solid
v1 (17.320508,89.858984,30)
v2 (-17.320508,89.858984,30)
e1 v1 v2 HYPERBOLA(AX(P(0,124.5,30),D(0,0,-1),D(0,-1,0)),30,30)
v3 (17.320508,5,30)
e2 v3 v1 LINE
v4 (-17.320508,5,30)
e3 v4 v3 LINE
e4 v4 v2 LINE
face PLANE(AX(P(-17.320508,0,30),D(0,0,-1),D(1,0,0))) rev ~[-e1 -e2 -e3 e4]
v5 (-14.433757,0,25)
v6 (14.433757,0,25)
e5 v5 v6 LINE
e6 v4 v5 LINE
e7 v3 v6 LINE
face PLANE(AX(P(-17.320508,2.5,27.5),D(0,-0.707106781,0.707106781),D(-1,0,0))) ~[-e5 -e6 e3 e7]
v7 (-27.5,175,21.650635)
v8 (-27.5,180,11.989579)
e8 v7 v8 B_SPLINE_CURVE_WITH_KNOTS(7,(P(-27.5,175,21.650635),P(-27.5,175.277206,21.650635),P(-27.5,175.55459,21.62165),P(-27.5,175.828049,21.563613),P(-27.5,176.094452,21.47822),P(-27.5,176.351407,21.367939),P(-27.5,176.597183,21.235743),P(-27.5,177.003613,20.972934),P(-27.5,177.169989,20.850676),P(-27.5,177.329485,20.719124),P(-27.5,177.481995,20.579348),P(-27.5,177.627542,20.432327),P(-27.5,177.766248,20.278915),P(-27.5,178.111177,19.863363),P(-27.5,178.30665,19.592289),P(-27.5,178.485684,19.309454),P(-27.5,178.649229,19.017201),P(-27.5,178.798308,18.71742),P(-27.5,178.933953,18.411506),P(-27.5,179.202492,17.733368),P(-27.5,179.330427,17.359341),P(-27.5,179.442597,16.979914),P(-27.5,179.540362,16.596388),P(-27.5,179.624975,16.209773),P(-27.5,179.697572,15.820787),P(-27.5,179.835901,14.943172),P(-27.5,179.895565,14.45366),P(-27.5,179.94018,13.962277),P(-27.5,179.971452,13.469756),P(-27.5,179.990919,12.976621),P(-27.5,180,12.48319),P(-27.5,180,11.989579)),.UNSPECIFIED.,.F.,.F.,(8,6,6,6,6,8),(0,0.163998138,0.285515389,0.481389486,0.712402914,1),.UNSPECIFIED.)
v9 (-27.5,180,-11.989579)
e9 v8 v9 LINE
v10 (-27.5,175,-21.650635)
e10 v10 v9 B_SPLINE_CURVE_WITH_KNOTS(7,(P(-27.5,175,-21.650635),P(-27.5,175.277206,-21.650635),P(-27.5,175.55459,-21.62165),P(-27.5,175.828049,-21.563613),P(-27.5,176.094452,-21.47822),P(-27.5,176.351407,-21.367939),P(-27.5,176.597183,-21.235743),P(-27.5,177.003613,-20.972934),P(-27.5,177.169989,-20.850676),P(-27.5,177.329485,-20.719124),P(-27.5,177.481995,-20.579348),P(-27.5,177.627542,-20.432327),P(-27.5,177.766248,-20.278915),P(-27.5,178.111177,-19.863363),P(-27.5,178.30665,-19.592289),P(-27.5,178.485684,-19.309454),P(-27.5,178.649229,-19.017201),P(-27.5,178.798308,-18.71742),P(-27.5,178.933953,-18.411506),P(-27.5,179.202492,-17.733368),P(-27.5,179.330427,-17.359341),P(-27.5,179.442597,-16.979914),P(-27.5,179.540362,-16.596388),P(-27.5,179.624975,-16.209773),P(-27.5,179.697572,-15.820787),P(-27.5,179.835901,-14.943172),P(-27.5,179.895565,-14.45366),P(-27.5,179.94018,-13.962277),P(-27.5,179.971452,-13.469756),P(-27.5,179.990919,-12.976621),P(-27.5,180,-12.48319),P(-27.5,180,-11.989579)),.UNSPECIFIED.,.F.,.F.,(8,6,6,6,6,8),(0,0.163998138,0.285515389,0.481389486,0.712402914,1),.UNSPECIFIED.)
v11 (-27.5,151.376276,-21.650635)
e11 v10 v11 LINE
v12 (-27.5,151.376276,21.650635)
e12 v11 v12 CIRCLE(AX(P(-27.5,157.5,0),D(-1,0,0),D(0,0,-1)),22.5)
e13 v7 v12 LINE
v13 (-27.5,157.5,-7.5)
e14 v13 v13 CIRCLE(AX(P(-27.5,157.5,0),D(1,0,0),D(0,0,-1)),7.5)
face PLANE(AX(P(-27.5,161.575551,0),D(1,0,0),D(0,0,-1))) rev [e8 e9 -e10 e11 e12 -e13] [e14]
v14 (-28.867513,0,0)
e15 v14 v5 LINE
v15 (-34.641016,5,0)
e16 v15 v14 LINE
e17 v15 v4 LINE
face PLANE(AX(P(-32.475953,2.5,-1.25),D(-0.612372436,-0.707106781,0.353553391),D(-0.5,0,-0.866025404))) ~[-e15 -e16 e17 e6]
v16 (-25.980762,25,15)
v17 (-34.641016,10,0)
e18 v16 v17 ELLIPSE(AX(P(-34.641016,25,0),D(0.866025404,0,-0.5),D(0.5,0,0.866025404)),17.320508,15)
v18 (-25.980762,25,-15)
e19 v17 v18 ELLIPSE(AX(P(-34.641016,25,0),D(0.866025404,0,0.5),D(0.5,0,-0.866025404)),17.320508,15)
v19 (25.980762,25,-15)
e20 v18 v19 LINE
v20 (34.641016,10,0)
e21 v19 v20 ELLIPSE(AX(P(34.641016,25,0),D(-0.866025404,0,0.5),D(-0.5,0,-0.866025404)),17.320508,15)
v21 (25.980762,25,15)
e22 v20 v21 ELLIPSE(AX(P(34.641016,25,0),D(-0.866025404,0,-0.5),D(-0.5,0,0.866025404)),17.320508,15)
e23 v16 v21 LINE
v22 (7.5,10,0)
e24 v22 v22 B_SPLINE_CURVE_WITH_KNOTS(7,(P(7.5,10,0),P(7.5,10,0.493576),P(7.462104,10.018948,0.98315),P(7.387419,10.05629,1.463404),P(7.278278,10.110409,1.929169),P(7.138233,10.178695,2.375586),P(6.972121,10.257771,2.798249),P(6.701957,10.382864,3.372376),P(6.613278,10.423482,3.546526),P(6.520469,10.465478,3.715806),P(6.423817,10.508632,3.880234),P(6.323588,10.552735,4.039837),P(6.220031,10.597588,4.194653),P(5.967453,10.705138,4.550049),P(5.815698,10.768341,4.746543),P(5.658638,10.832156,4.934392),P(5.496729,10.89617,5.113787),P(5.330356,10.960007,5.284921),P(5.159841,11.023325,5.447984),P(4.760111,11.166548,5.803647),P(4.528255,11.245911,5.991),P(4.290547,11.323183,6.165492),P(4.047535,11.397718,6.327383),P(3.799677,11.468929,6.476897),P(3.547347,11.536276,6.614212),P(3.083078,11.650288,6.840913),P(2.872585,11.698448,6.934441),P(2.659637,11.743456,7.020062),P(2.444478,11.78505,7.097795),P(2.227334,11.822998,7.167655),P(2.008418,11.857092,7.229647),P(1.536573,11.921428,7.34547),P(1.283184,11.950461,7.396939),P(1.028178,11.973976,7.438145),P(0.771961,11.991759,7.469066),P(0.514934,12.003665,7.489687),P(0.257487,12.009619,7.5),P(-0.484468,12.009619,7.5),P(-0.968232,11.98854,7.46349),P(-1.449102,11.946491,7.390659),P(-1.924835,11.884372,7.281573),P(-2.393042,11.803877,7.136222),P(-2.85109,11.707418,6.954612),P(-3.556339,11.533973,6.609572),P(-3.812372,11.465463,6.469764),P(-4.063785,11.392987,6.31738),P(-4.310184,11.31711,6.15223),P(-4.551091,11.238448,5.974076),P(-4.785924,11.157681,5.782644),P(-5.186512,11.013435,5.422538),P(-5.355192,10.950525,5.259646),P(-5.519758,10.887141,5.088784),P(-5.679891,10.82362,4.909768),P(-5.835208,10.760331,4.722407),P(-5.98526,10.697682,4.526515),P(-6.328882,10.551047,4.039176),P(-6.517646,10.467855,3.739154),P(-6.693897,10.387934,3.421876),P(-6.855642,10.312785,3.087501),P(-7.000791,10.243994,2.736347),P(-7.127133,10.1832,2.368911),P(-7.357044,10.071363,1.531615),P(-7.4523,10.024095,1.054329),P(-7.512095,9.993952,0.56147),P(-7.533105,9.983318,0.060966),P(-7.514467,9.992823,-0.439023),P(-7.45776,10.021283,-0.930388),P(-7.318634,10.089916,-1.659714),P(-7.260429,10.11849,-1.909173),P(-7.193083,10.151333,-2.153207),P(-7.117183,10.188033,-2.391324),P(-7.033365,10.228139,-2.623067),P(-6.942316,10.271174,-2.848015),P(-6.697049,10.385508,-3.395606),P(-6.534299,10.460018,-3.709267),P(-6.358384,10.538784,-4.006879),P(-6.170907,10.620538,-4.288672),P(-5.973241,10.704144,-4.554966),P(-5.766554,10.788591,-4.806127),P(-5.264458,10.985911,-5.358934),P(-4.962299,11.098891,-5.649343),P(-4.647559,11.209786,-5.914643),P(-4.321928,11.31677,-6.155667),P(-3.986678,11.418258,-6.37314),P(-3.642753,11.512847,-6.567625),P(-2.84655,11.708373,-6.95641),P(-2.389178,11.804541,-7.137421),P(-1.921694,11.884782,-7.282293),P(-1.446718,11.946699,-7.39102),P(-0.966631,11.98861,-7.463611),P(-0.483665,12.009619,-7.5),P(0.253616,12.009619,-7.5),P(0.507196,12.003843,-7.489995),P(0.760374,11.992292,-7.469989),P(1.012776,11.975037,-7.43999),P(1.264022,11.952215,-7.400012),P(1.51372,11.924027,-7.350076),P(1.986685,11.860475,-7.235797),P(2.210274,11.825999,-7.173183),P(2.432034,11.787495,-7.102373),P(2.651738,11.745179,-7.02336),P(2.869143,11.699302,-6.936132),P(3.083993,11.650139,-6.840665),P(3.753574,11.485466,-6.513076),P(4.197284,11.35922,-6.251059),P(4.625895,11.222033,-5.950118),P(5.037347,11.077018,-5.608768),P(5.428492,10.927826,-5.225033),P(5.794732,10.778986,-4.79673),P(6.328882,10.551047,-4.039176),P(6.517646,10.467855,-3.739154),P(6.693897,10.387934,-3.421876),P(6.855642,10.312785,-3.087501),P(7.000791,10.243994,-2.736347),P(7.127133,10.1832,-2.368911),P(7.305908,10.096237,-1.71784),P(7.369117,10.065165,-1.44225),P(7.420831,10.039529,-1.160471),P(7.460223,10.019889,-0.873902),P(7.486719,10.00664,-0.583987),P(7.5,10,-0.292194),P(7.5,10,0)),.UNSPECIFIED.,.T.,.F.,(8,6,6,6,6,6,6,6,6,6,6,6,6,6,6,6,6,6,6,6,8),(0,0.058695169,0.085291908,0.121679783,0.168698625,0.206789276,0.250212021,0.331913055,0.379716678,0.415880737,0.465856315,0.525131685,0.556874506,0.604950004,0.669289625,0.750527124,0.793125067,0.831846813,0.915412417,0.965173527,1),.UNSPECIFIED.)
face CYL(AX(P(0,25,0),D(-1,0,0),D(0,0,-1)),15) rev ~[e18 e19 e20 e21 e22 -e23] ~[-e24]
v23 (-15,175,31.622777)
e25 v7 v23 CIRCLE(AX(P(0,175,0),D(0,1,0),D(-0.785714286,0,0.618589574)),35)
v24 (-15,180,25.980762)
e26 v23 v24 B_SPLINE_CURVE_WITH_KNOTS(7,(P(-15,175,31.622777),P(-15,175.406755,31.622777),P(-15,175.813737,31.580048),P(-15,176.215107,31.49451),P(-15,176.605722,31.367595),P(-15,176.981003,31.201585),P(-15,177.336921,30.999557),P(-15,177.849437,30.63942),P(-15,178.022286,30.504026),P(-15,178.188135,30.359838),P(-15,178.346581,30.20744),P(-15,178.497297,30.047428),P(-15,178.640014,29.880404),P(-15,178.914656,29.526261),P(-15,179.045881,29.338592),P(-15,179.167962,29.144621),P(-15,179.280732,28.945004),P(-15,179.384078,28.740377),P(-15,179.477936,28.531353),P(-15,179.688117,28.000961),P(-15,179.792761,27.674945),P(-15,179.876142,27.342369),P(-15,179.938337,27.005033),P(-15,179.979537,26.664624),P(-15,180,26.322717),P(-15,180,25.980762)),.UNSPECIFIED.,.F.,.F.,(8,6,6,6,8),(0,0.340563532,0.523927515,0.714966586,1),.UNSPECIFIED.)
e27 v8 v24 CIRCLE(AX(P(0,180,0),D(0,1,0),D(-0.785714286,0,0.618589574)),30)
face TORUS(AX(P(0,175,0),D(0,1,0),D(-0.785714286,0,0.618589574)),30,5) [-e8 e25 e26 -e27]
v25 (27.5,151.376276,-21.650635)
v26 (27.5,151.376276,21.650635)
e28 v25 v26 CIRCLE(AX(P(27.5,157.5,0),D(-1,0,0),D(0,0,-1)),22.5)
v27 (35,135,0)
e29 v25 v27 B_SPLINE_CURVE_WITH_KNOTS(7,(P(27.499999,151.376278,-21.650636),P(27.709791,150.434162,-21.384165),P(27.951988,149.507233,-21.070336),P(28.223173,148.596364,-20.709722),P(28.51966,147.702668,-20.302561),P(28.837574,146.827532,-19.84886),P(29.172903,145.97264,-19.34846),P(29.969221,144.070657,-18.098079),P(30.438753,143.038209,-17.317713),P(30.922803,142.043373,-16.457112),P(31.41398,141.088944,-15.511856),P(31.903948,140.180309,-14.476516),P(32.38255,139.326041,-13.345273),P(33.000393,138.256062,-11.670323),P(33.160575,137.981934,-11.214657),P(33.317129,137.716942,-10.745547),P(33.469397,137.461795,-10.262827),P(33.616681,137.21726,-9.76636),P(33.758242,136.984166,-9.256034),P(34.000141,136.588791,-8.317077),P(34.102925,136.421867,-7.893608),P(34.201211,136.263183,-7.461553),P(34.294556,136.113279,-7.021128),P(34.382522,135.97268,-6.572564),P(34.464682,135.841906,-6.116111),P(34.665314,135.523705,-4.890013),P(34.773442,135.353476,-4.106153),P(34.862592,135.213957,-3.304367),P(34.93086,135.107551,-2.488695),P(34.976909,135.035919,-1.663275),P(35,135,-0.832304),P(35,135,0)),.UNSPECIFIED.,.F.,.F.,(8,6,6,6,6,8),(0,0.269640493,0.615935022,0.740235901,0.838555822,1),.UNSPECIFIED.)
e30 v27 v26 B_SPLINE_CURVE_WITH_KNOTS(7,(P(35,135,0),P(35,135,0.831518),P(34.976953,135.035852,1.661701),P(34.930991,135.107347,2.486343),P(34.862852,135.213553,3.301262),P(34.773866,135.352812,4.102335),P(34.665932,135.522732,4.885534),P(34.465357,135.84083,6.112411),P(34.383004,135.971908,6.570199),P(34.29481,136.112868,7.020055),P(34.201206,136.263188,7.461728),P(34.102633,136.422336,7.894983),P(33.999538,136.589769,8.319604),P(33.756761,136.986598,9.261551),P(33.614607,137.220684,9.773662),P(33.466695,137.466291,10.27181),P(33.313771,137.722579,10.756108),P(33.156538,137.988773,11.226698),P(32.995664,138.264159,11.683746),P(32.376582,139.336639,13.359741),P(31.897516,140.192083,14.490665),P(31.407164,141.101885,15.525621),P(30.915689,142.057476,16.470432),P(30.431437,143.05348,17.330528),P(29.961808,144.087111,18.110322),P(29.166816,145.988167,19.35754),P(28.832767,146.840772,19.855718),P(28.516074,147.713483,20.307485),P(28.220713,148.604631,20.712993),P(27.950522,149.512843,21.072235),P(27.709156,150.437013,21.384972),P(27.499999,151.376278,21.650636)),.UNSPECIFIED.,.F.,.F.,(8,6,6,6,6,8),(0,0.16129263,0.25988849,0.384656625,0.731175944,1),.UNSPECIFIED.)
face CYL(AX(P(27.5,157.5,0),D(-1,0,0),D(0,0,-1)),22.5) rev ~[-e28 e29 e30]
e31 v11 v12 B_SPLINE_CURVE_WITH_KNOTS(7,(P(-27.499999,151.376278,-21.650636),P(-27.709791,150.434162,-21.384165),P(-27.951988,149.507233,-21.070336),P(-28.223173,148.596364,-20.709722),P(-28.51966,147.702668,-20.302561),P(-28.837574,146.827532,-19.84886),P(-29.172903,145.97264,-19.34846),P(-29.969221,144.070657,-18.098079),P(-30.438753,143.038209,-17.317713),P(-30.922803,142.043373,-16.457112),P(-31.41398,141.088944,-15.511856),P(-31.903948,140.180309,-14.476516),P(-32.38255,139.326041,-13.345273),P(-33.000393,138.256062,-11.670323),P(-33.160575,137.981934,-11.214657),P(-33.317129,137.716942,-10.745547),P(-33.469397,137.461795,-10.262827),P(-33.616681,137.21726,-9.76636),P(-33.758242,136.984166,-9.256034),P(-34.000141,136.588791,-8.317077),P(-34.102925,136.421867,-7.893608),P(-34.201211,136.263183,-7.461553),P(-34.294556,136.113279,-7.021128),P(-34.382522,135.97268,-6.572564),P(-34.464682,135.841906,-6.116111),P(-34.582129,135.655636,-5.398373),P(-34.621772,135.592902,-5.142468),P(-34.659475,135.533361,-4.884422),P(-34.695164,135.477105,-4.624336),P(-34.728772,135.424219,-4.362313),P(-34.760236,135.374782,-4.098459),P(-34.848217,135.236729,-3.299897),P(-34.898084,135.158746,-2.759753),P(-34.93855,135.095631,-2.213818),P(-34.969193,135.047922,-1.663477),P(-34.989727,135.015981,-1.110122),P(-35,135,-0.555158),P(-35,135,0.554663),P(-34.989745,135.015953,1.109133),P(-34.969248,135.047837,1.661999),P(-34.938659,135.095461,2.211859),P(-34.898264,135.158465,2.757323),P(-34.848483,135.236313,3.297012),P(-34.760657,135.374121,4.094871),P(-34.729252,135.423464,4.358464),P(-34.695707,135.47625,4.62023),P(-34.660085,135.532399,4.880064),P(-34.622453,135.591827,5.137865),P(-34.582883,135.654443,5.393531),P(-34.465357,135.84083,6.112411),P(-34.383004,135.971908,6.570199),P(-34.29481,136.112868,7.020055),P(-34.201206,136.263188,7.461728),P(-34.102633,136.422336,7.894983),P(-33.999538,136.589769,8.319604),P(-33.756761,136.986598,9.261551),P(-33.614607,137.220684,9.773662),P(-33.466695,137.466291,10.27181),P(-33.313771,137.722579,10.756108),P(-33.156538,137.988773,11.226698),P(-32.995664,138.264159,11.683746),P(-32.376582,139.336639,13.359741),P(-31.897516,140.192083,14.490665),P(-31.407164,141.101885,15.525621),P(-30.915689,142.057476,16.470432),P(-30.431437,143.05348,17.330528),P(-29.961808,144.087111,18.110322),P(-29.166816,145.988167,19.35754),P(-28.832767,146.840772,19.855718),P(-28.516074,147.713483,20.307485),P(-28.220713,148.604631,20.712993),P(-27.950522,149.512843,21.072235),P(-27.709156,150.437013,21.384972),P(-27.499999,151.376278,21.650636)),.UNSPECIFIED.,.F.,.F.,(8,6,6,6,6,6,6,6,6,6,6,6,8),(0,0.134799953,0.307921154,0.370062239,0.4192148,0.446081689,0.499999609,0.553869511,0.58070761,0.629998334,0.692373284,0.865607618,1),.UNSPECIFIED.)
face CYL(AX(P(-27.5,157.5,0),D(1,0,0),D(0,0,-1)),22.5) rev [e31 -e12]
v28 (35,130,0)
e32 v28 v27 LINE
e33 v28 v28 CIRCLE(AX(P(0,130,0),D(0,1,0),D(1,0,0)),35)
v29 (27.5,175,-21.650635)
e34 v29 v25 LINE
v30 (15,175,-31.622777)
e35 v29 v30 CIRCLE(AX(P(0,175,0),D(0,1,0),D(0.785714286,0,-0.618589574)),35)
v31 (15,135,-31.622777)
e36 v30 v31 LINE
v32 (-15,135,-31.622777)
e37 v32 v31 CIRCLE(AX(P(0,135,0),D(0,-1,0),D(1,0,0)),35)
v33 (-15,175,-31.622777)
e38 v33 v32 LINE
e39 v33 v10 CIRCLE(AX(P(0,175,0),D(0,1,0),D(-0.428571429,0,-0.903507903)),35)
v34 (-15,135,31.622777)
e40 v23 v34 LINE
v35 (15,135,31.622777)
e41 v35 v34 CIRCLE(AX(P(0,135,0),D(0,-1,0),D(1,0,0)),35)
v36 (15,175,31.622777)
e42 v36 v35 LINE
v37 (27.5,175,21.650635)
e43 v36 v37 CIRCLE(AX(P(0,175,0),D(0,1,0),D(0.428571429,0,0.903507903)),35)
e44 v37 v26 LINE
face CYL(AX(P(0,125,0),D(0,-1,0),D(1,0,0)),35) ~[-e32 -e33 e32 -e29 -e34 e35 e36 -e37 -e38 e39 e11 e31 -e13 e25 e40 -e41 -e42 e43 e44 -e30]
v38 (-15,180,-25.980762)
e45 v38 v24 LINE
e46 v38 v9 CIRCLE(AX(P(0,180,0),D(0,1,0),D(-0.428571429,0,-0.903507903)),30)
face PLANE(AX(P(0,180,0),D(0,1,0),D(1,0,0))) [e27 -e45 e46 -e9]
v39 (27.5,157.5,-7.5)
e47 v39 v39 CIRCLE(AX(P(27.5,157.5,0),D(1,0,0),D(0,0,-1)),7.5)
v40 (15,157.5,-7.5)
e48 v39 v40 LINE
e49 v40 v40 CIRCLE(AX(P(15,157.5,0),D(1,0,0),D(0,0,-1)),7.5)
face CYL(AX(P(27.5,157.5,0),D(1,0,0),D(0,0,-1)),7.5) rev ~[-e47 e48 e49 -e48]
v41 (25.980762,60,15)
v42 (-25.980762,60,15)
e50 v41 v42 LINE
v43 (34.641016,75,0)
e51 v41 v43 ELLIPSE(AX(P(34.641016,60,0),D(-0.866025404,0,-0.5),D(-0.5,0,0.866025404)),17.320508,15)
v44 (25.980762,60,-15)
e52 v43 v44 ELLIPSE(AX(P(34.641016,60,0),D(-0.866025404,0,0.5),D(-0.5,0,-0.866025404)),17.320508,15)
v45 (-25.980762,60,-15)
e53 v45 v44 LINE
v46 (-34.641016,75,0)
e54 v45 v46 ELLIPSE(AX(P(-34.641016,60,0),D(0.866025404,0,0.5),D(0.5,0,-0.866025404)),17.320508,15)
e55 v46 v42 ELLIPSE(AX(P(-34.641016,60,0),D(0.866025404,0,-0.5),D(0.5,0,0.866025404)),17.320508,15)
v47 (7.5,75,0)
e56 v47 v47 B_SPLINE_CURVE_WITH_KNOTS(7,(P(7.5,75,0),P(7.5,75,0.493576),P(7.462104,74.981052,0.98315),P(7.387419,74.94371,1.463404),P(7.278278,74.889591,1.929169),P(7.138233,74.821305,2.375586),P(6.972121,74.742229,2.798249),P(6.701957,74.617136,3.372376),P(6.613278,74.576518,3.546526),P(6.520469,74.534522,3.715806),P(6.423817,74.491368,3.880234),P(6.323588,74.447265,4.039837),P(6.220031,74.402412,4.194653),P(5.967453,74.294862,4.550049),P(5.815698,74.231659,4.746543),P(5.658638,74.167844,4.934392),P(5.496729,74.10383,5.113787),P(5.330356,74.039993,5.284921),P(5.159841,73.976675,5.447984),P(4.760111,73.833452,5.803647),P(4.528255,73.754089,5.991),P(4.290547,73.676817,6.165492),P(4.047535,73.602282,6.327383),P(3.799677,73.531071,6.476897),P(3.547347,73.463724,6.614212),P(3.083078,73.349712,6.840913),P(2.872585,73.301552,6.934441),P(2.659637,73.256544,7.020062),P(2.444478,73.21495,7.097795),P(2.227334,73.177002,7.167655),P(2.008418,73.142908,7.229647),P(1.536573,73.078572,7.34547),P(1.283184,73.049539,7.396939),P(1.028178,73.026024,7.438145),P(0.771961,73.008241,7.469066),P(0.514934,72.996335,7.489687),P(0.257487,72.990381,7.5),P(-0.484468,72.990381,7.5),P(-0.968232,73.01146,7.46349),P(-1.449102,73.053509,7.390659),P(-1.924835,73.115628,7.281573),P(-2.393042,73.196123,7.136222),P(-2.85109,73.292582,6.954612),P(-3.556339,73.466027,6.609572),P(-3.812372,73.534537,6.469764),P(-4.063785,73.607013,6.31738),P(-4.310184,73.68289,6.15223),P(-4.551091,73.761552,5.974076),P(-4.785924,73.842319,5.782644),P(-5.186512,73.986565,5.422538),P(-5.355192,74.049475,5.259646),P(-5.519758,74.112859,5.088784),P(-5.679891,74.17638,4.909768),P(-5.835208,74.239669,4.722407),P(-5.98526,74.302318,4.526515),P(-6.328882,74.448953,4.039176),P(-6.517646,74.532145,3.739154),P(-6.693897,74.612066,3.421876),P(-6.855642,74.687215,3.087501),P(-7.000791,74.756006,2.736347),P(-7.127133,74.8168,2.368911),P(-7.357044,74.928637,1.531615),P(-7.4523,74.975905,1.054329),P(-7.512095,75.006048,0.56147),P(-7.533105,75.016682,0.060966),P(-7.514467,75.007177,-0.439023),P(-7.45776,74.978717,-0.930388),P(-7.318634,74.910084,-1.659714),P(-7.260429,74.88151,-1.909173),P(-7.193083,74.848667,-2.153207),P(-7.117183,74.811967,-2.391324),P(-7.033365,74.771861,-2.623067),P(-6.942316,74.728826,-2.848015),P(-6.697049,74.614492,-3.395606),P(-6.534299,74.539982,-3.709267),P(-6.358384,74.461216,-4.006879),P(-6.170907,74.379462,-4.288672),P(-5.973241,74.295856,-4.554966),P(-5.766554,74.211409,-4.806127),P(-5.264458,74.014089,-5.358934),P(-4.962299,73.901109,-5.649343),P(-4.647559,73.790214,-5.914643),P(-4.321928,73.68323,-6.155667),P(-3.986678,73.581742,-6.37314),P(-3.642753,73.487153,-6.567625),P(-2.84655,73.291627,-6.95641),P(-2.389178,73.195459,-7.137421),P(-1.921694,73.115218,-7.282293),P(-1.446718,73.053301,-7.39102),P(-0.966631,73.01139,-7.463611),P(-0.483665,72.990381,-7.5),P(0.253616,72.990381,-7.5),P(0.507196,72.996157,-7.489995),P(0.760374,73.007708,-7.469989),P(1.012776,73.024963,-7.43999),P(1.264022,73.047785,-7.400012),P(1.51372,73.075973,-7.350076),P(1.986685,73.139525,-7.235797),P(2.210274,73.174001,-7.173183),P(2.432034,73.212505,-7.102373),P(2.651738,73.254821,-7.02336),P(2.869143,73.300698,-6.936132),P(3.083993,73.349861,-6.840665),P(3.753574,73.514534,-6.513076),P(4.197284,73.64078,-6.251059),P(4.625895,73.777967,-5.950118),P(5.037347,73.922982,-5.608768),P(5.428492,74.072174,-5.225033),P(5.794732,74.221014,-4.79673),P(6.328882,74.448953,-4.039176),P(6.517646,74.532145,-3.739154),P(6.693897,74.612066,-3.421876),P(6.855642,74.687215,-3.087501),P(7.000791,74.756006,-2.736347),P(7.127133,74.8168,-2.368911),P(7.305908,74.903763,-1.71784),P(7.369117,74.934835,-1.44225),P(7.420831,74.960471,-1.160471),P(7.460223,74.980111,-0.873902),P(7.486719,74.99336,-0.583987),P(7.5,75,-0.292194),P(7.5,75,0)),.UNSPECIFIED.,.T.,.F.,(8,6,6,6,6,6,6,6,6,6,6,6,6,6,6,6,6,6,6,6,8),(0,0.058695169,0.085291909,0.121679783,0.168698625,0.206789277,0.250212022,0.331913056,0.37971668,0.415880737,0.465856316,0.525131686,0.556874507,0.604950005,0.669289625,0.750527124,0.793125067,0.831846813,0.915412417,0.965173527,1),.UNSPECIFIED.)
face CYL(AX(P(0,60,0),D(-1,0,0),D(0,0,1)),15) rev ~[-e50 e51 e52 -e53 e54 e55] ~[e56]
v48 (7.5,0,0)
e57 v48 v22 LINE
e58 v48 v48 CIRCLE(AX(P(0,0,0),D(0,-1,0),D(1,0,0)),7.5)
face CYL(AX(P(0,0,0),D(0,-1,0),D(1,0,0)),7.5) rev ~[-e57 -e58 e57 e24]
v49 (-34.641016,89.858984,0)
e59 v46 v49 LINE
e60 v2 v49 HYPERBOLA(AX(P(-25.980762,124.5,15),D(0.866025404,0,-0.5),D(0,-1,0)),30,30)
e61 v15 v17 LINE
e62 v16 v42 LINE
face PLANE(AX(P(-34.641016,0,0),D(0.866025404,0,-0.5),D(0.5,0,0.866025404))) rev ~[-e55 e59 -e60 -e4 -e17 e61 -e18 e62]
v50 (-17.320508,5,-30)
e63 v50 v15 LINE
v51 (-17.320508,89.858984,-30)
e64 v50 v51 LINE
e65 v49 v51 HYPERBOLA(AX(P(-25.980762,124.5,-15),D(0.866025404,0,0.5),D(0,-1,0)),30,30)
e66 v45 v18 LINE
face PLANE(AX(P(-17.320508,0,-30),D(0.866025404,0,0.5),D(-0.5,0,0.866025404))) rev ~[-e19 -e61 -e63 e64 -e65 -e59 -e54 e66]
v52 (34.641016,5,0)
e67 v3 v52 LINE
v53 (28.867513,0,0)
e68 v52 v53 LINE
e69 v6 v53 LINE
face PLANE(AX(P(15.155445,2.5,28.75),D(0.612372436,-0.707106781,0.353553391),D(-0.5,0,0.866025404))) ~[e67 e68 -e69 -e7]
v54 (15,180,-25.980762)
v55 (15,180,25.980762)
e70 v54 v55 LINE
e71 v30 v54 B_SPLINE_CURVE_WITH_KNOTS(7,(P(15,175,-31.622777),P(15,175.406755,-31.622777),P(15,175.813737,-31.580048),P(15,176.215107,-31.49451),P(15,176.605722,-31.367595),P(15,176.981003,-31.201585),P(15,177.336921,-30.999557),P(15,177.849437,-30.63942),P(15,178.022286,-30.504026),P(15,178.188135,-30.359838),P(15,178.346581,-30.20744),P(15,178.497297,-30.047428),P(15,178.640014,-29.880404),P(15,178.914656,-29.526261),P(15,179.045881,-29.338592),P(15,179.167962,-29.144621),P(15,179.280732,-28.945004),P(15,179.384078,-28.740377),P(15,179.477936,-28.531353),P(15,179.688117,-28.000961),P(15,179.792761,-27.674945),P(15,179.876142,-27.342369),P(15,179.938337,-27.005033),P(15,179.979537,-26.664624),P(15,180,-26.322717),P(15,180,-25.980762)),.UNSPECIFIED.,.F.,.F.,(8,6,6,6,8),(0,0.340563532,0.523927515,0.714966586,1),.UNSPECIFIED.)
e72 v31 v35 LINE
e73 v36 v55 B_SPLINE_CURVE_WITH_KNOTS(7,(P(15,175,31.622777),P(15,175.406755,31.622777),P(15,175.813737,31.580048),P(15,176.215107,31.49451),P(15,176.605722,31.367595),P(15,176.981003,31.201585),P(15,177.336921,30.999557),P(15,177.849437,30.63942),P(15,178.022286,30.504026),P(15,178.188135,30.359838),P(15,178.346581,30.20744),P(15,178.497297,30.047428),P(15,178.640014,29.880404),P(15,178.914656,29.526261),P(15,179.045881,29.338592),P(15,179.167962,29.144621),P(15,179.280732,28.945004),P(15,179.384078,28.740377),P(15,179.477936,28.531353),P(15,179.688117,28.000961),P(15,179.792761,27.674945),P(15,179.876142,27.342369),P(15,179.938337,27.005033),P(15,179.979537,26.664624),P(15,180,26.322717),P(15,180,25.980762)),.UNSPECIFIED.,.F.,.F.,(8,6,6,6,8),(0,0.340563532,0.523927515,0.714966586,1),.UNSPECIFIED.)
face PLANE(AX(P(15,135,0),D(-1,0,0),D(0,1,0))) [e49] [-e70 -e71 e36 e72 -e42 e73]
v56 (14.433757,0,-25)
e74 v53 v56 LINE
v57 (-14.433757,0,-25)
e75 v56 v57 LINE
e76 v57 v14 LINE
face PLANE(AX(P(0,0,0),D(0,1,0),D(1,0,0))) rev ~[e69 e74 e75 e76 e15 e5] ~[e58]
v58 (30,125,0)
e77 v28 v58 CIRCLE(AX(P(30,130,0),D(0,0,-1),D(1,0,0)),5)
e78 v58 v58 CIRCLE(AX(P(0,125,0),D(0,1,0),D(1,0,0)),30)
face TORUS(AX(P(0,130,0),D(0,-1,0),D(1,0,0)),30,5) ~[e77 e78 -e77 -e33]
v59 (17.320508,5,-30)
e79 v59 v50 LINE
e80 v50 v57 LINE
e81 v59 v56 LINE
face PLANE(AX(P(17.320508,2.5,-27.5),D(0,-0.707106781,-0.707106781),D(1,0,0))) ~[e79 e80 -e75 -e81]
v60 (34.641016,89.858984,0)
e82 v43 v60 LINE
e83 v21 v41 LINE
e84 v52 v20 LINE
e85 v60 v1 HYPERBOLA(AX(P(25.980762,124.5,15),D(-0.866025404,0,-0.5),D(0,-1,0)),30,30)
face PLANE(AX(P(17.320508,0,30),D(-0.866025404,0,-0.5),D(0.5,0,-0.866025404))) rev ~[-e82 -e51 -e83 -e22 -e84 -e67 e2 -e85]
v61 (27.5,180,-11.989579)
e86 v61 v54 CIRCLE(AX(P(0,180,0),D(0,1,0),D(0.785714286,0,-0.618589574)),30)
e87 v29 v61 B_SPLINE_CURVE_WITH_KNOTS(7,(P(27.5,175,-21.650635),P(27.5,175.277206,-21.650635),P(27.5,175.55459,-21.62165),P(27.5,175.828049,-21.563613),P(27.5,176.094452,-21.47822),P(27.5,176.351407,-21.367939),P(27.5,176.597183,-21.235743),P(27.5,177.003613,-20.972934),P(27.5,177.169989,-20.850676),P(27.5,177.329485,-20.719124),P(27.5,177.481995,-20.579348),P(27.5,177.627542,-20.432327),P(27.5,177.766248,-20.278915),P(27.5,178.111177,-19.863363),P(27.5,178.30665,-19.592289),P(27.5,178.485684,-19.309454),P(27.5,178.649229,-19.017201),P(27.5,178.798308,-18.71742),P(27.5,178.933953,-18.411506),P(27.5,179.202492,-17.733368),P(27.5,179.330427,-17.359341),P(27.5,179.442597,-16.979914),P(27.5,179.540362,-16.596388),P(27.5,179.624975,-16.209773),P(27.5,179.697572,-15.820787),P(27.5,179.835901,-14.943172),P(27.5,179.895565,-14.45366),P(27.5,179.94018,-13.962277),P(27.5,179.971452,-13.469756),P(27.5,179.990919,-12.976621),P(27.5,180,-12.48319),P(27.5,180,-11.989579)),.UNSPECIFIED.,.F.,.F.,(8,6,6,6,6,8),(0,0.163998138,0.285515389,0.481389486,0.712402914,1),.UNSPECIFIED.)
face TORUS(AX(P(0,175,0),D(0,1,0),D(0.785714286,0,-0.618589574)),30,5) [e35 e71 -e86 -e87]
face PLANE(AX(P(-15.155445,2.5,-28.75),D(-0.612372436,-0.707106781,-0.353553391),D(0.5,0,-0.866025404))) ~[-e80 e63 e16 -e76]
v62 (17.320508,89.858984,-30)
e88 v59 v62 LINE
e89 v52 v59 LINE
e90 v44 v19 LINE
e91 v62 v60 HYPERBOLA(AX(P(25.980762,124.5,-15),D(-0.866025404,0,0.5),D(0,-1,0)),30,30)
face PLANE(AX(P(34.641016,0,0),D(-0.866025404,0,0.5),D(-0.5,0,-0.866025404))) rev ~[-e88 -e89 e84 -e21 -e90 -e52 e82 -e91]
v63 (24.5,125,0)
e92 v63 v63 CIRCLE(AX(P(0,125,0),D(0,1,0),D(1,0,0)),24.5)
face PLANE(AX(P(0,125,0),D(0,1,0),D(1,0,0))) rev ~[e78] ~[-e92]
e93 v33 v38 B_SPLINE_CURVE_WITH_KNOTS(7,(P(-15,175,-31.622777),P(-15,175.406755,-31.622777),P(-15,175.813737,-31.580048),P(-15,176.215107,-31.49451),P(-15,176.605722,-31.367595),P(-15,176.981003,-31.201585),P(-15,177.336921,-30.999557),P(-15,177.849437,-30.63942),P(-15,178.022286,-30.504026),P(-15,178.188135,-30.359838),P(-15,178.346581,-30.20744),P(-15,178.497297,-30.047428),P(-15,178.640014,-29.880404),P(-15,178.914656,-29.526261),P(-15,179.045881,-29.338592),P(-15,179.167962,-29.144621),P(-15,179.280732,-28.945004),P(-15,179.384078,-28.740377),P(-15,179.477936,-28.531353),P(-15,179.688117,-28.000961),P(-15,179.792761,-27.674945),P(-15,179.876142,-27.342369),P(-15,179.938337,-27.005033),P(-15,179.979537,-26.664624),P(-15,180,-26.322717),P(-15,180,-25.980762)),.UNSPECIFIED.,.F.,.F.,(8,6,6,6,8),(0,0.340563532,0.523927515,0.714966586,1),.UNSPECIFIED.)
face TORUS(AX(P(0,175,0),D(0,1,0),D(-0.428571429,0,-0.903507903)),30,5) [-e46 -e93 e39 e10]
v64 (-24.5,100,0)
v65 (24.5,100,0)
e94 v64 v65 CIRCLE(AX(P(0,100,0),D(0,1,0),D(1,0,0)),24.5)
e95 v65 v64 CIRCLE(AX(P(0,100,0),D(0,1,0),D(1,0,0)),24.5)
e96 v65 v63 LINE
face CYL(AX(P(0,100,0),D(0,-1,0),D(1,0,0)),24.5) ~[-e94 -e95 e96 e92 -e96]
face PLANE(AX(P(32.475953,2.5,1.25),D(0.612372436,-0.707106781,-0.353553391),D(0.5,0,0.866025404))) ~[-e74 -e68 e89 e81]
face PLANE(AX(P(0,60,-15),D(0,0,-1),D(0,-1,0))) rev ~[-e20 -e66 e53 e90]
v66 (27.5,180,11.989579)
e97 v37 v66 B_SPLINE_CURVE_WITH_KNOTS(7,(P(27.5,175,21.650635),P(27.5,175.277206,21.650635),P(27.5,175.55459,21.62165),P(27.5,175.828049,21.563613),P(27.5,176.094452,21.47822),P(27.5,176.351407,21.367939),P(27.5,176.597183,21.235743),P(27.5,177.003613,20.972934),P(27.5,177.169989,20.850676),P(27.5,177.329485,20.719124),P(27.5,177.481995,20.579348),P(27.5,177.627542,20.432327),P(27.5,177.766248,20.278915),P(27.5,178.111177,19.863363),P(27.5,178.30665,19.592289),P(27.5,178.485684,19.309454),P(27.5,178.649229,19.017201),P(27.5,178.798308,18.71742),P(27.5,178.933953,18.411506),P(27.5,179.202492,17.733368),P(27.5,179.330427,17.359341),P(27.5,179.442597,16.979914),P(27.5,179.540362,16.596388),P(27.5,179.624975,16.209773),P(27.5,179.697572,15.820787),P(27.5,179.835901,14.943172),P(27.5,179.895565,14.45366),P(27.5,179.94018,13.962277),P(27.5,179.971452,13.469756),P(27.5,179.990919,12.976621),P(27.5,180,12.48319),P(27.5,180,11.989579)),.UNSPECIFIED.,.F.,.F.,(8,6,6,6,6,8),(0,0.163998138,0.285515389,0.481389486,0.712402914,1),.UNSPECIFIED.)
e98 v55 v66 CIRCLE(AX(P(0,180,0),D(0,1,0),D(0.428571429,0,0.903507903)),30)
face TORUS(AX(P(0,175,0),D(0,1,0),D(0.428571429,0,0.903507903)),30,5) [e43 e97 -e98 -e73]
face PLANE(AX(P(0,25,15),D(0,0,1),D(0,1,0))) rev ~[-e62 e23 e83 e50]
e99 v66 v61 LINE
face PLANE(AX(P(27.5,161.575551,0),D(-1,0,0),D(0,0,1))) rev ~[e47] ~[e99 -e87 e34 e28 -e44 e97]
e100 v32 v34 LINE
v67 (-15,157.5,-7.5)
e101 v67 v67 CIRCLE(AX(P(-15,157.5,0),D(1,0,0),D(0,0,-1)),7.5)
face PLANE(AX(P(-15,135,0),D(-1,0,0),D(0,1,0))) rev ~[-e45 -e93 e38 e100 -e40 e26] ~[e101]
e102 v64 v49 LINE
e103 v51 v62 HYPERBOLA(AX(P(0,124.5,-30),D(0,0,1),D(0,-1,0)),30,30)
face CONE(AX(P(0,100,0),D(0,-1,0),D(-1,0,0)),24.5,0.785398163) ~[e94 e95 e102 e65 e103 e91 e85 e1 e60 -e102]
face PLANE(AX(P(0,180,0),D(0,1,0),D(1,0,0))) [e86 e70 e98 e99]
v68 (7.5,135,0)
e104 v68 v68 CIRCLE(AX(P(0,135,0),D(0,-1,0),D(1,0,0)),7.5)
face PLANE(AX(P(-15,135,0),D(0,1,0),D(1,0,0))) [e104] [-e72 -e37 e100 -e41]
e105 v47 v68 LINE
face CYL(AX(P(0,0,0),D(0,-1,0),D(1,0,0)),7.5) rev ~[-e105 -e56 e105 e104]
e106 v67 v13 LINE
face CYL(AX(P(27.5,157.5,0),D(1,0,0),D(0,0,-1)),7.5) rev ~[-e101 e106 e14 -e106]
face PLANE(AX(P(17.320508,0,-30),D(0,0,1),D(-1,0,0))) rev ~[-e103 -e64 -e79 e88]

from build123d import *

# Parameters (mm, degrees)
BOSS_EXTRUDE1_DEPTH     = 100
CHAMFER1_SIZE           = 5
CUT_EXTRUDE1_DEPTH      = 35.641016151
CUT_EXTRUDE1_DEPTH_BACK = 35.641016151
SKETCH3_R               = 24.5
BOSS_EXTRUDE2_DEPTH     = 25
SKETCH5_R               = 35
BOSS_EXTRUDE3_DEPTH     = 55
FILLET1_R               = 5
SKETCH6_W               = 30
SKETCH6_H               = 45
CUT_EXTRUDE2_DEPTH      = 36.0000001
CUT_EXTRUDE2_DEPTH_BACK = 36.0000001
CUT_EXTRUDE3_DEPTH      = 8.5
SKETCH8_R               = 7.5
CUT_EXTRUDE4_DEPTH      = 55
FILLET2_R               = 5
SKETCH9_R               = 7.5
CUT_EXTRUDE5_DEPTH      = 181.0000001


with BuildPart() as part:
    # Sketch1 → Boss-Extrude1 (new body)
    with BuildSketch(Plane(origin=(0, 0, 0), x_dir=(1, 0, 0), z_dir=(0, 1, 0))):
        Polygon((34.641016151, 0), (17.320508076, 30), (-17.320508076, 30), (-34.641016151, 0), (-17.320508076, -30), (17.320508076, -30), align=None)
    extrude(amount=BOSS_EXTRUDE1_DEPTH)

    # Chamfer1
    chamfer1_edges = [part.edges().sort_by_distance(p)[0] for p in [
        (0, 0, 30),
        (-25.980762114, 0, 15),
        (-25.980762114, 0, -15),
        (0, 0, -30),
        (25.980762114, 0, -15),
        (25.980762114, 0, 15),
    ]]
    chamfer(chamfer1_edges, length=CHAMFER1_SIZE)

    # Sketch2 → Cut-Extrude1 (cut, two sides)
    with BuildSketch(Plane(origin=(0, 0, 0), x_dir=(0, 0, -1), z_dir=(1, 0, 0))) as cut_extrude1_sk:
        with BuildLine():
            Line((15, 60), (15, 25))
            ThreePointArc((15, 25), (0, 10), (-15, 25))
            Line((-15, 25), (-15, 60))
            ThreePointArc((-15, 60), (0, 75), (15, 60))
        make_face()
    extrude(amount=CUT_EXTRUDE1_DEPTH, mode=Mode.SUBTRACT)
    extrude(cut_extrude1_sk.sketch, amount=-CUT_EXTRUDE1_DEPTH_BACK, mode=Mode.SUBTRACT)

    # Sketch3 → Boss-Extrude2 (add)
    with BuildSketch(Plane(origin=(0, 100, 0), x_dir=(1, 0, 0), z_dir=(0, 1, 0))):
        Circle(SKETCH3_R)
    extrude(amount=BOSS_EXTRUDE2_DEPTH)

    # Sketch4 → Cut-Revolve1 (revolve, cut)
    with BuildSketch(Plane.XY):
        Polygon((-24.5, 100), (-37.5, 87), (-37.5, 100), align=None)
    revolve(axis=Axis((0, -6.25, 0), (0, 1, 0)), mode=Mode.SUBTRACT)

    # Sketch5 → Boss-Extrude3 (add)
    with BuildSketch(Plane(origin=(0, 125, 0), x_dir=(1, 0, 0), z_dir=(0, 1, 0))):
        Circle(SKETCH5_R)
    extrude(amount=BOSS_EXTRUDE3_DEPTH)

    # Fillet1
    fillet1_edges = [part.edges().sort_by_distance(p)[0] for p in [
        (-35, 125, 0),
    ]]
    fillet(fillet1_edges, radius=FILLET1_R)

    # Sketch6 → Cut-Extrude2 (cut, two sides)
    with BuildSketch(Plane.XY) as cut_extrude2_sk:
        with Locations((0, 157.5)):
            Rectangle(SKETCH6_W, SKETCH6_H)
    extrude(amount=CUT_EXTRUDE2_DEPTH, mode=Mode.SUBTRACT)
    extrude(cut_extrude2_sk.sketch, amount=-CUT_EXTRUDE2_DEPTH_BACK, mode=Mode.SUBTRACT)

    # Sketch7 → Cut-Extrude3 (cut, through all)
    with BuildSketch(Plane(origin=(27.5, 0, 0), x_dir=(0, 0, -1), z_dir=(1, 0, 0))):
        with BuildLine():
            Line((-22.5, 180), (22.5, 180))
            Line((22.5, 180), (22.5, 157.5))
            ThreePointArc((22.5, 157.5), (0, 135), (-22.5, 157.5))
            Line((-22.5, 157.5), (-22.5, 180))
        make_face()
    cut_extrude3 = extrude(amount=CUT_EXTRUDE3_DEPTH, mode=Mode.SUBTRACT)

    # Mirror1: Cut-Extrude3 across plane
    add(cut_extrude3.mirror(Plane(origin=(0, 0, 0), x_dir=(0, 0, 1), z_dir=(1, 0, 0))), mode=Mode.SUBTRACT)

    # Sketch8 → Cut-Extrude4 (cut)
    with BuildSketch(Plane(origin=(27.5, 0, 0), x_dir=(0, 0, -1), z_dir=(1, 0, 0))):
        with Locations((0, 157.5)):
            Circle(SKETCH8_R)
    extrude(amount=-CUT_EXTRUDE4_DEPTH, mode=Mode.SUBTRACT)

    # Fillet2
    fillet2_edges = [part.edges().sort_by_distance(p)[0] for p in [
        (21.827125362, 180, -27.360127895),
        (-21.827125362, 180, 27.360127895),
        (21.827125362, 180, 27.360127895),
        (-21.827125362, 180, -27.360127895),
    ]]
    fillet(fillet2_edges, radius=FILLET2_R)

    # Sketch9 → Cut-Extrude5 (cut, through all)
    with BuildSketch(Plane.XZ):
        Circle(SKETCH9_R)
    extrude(amount=-CUT_EXTRUDE5_DEPTH, mode=Mode.SUBTRACT)


solid = part.part
